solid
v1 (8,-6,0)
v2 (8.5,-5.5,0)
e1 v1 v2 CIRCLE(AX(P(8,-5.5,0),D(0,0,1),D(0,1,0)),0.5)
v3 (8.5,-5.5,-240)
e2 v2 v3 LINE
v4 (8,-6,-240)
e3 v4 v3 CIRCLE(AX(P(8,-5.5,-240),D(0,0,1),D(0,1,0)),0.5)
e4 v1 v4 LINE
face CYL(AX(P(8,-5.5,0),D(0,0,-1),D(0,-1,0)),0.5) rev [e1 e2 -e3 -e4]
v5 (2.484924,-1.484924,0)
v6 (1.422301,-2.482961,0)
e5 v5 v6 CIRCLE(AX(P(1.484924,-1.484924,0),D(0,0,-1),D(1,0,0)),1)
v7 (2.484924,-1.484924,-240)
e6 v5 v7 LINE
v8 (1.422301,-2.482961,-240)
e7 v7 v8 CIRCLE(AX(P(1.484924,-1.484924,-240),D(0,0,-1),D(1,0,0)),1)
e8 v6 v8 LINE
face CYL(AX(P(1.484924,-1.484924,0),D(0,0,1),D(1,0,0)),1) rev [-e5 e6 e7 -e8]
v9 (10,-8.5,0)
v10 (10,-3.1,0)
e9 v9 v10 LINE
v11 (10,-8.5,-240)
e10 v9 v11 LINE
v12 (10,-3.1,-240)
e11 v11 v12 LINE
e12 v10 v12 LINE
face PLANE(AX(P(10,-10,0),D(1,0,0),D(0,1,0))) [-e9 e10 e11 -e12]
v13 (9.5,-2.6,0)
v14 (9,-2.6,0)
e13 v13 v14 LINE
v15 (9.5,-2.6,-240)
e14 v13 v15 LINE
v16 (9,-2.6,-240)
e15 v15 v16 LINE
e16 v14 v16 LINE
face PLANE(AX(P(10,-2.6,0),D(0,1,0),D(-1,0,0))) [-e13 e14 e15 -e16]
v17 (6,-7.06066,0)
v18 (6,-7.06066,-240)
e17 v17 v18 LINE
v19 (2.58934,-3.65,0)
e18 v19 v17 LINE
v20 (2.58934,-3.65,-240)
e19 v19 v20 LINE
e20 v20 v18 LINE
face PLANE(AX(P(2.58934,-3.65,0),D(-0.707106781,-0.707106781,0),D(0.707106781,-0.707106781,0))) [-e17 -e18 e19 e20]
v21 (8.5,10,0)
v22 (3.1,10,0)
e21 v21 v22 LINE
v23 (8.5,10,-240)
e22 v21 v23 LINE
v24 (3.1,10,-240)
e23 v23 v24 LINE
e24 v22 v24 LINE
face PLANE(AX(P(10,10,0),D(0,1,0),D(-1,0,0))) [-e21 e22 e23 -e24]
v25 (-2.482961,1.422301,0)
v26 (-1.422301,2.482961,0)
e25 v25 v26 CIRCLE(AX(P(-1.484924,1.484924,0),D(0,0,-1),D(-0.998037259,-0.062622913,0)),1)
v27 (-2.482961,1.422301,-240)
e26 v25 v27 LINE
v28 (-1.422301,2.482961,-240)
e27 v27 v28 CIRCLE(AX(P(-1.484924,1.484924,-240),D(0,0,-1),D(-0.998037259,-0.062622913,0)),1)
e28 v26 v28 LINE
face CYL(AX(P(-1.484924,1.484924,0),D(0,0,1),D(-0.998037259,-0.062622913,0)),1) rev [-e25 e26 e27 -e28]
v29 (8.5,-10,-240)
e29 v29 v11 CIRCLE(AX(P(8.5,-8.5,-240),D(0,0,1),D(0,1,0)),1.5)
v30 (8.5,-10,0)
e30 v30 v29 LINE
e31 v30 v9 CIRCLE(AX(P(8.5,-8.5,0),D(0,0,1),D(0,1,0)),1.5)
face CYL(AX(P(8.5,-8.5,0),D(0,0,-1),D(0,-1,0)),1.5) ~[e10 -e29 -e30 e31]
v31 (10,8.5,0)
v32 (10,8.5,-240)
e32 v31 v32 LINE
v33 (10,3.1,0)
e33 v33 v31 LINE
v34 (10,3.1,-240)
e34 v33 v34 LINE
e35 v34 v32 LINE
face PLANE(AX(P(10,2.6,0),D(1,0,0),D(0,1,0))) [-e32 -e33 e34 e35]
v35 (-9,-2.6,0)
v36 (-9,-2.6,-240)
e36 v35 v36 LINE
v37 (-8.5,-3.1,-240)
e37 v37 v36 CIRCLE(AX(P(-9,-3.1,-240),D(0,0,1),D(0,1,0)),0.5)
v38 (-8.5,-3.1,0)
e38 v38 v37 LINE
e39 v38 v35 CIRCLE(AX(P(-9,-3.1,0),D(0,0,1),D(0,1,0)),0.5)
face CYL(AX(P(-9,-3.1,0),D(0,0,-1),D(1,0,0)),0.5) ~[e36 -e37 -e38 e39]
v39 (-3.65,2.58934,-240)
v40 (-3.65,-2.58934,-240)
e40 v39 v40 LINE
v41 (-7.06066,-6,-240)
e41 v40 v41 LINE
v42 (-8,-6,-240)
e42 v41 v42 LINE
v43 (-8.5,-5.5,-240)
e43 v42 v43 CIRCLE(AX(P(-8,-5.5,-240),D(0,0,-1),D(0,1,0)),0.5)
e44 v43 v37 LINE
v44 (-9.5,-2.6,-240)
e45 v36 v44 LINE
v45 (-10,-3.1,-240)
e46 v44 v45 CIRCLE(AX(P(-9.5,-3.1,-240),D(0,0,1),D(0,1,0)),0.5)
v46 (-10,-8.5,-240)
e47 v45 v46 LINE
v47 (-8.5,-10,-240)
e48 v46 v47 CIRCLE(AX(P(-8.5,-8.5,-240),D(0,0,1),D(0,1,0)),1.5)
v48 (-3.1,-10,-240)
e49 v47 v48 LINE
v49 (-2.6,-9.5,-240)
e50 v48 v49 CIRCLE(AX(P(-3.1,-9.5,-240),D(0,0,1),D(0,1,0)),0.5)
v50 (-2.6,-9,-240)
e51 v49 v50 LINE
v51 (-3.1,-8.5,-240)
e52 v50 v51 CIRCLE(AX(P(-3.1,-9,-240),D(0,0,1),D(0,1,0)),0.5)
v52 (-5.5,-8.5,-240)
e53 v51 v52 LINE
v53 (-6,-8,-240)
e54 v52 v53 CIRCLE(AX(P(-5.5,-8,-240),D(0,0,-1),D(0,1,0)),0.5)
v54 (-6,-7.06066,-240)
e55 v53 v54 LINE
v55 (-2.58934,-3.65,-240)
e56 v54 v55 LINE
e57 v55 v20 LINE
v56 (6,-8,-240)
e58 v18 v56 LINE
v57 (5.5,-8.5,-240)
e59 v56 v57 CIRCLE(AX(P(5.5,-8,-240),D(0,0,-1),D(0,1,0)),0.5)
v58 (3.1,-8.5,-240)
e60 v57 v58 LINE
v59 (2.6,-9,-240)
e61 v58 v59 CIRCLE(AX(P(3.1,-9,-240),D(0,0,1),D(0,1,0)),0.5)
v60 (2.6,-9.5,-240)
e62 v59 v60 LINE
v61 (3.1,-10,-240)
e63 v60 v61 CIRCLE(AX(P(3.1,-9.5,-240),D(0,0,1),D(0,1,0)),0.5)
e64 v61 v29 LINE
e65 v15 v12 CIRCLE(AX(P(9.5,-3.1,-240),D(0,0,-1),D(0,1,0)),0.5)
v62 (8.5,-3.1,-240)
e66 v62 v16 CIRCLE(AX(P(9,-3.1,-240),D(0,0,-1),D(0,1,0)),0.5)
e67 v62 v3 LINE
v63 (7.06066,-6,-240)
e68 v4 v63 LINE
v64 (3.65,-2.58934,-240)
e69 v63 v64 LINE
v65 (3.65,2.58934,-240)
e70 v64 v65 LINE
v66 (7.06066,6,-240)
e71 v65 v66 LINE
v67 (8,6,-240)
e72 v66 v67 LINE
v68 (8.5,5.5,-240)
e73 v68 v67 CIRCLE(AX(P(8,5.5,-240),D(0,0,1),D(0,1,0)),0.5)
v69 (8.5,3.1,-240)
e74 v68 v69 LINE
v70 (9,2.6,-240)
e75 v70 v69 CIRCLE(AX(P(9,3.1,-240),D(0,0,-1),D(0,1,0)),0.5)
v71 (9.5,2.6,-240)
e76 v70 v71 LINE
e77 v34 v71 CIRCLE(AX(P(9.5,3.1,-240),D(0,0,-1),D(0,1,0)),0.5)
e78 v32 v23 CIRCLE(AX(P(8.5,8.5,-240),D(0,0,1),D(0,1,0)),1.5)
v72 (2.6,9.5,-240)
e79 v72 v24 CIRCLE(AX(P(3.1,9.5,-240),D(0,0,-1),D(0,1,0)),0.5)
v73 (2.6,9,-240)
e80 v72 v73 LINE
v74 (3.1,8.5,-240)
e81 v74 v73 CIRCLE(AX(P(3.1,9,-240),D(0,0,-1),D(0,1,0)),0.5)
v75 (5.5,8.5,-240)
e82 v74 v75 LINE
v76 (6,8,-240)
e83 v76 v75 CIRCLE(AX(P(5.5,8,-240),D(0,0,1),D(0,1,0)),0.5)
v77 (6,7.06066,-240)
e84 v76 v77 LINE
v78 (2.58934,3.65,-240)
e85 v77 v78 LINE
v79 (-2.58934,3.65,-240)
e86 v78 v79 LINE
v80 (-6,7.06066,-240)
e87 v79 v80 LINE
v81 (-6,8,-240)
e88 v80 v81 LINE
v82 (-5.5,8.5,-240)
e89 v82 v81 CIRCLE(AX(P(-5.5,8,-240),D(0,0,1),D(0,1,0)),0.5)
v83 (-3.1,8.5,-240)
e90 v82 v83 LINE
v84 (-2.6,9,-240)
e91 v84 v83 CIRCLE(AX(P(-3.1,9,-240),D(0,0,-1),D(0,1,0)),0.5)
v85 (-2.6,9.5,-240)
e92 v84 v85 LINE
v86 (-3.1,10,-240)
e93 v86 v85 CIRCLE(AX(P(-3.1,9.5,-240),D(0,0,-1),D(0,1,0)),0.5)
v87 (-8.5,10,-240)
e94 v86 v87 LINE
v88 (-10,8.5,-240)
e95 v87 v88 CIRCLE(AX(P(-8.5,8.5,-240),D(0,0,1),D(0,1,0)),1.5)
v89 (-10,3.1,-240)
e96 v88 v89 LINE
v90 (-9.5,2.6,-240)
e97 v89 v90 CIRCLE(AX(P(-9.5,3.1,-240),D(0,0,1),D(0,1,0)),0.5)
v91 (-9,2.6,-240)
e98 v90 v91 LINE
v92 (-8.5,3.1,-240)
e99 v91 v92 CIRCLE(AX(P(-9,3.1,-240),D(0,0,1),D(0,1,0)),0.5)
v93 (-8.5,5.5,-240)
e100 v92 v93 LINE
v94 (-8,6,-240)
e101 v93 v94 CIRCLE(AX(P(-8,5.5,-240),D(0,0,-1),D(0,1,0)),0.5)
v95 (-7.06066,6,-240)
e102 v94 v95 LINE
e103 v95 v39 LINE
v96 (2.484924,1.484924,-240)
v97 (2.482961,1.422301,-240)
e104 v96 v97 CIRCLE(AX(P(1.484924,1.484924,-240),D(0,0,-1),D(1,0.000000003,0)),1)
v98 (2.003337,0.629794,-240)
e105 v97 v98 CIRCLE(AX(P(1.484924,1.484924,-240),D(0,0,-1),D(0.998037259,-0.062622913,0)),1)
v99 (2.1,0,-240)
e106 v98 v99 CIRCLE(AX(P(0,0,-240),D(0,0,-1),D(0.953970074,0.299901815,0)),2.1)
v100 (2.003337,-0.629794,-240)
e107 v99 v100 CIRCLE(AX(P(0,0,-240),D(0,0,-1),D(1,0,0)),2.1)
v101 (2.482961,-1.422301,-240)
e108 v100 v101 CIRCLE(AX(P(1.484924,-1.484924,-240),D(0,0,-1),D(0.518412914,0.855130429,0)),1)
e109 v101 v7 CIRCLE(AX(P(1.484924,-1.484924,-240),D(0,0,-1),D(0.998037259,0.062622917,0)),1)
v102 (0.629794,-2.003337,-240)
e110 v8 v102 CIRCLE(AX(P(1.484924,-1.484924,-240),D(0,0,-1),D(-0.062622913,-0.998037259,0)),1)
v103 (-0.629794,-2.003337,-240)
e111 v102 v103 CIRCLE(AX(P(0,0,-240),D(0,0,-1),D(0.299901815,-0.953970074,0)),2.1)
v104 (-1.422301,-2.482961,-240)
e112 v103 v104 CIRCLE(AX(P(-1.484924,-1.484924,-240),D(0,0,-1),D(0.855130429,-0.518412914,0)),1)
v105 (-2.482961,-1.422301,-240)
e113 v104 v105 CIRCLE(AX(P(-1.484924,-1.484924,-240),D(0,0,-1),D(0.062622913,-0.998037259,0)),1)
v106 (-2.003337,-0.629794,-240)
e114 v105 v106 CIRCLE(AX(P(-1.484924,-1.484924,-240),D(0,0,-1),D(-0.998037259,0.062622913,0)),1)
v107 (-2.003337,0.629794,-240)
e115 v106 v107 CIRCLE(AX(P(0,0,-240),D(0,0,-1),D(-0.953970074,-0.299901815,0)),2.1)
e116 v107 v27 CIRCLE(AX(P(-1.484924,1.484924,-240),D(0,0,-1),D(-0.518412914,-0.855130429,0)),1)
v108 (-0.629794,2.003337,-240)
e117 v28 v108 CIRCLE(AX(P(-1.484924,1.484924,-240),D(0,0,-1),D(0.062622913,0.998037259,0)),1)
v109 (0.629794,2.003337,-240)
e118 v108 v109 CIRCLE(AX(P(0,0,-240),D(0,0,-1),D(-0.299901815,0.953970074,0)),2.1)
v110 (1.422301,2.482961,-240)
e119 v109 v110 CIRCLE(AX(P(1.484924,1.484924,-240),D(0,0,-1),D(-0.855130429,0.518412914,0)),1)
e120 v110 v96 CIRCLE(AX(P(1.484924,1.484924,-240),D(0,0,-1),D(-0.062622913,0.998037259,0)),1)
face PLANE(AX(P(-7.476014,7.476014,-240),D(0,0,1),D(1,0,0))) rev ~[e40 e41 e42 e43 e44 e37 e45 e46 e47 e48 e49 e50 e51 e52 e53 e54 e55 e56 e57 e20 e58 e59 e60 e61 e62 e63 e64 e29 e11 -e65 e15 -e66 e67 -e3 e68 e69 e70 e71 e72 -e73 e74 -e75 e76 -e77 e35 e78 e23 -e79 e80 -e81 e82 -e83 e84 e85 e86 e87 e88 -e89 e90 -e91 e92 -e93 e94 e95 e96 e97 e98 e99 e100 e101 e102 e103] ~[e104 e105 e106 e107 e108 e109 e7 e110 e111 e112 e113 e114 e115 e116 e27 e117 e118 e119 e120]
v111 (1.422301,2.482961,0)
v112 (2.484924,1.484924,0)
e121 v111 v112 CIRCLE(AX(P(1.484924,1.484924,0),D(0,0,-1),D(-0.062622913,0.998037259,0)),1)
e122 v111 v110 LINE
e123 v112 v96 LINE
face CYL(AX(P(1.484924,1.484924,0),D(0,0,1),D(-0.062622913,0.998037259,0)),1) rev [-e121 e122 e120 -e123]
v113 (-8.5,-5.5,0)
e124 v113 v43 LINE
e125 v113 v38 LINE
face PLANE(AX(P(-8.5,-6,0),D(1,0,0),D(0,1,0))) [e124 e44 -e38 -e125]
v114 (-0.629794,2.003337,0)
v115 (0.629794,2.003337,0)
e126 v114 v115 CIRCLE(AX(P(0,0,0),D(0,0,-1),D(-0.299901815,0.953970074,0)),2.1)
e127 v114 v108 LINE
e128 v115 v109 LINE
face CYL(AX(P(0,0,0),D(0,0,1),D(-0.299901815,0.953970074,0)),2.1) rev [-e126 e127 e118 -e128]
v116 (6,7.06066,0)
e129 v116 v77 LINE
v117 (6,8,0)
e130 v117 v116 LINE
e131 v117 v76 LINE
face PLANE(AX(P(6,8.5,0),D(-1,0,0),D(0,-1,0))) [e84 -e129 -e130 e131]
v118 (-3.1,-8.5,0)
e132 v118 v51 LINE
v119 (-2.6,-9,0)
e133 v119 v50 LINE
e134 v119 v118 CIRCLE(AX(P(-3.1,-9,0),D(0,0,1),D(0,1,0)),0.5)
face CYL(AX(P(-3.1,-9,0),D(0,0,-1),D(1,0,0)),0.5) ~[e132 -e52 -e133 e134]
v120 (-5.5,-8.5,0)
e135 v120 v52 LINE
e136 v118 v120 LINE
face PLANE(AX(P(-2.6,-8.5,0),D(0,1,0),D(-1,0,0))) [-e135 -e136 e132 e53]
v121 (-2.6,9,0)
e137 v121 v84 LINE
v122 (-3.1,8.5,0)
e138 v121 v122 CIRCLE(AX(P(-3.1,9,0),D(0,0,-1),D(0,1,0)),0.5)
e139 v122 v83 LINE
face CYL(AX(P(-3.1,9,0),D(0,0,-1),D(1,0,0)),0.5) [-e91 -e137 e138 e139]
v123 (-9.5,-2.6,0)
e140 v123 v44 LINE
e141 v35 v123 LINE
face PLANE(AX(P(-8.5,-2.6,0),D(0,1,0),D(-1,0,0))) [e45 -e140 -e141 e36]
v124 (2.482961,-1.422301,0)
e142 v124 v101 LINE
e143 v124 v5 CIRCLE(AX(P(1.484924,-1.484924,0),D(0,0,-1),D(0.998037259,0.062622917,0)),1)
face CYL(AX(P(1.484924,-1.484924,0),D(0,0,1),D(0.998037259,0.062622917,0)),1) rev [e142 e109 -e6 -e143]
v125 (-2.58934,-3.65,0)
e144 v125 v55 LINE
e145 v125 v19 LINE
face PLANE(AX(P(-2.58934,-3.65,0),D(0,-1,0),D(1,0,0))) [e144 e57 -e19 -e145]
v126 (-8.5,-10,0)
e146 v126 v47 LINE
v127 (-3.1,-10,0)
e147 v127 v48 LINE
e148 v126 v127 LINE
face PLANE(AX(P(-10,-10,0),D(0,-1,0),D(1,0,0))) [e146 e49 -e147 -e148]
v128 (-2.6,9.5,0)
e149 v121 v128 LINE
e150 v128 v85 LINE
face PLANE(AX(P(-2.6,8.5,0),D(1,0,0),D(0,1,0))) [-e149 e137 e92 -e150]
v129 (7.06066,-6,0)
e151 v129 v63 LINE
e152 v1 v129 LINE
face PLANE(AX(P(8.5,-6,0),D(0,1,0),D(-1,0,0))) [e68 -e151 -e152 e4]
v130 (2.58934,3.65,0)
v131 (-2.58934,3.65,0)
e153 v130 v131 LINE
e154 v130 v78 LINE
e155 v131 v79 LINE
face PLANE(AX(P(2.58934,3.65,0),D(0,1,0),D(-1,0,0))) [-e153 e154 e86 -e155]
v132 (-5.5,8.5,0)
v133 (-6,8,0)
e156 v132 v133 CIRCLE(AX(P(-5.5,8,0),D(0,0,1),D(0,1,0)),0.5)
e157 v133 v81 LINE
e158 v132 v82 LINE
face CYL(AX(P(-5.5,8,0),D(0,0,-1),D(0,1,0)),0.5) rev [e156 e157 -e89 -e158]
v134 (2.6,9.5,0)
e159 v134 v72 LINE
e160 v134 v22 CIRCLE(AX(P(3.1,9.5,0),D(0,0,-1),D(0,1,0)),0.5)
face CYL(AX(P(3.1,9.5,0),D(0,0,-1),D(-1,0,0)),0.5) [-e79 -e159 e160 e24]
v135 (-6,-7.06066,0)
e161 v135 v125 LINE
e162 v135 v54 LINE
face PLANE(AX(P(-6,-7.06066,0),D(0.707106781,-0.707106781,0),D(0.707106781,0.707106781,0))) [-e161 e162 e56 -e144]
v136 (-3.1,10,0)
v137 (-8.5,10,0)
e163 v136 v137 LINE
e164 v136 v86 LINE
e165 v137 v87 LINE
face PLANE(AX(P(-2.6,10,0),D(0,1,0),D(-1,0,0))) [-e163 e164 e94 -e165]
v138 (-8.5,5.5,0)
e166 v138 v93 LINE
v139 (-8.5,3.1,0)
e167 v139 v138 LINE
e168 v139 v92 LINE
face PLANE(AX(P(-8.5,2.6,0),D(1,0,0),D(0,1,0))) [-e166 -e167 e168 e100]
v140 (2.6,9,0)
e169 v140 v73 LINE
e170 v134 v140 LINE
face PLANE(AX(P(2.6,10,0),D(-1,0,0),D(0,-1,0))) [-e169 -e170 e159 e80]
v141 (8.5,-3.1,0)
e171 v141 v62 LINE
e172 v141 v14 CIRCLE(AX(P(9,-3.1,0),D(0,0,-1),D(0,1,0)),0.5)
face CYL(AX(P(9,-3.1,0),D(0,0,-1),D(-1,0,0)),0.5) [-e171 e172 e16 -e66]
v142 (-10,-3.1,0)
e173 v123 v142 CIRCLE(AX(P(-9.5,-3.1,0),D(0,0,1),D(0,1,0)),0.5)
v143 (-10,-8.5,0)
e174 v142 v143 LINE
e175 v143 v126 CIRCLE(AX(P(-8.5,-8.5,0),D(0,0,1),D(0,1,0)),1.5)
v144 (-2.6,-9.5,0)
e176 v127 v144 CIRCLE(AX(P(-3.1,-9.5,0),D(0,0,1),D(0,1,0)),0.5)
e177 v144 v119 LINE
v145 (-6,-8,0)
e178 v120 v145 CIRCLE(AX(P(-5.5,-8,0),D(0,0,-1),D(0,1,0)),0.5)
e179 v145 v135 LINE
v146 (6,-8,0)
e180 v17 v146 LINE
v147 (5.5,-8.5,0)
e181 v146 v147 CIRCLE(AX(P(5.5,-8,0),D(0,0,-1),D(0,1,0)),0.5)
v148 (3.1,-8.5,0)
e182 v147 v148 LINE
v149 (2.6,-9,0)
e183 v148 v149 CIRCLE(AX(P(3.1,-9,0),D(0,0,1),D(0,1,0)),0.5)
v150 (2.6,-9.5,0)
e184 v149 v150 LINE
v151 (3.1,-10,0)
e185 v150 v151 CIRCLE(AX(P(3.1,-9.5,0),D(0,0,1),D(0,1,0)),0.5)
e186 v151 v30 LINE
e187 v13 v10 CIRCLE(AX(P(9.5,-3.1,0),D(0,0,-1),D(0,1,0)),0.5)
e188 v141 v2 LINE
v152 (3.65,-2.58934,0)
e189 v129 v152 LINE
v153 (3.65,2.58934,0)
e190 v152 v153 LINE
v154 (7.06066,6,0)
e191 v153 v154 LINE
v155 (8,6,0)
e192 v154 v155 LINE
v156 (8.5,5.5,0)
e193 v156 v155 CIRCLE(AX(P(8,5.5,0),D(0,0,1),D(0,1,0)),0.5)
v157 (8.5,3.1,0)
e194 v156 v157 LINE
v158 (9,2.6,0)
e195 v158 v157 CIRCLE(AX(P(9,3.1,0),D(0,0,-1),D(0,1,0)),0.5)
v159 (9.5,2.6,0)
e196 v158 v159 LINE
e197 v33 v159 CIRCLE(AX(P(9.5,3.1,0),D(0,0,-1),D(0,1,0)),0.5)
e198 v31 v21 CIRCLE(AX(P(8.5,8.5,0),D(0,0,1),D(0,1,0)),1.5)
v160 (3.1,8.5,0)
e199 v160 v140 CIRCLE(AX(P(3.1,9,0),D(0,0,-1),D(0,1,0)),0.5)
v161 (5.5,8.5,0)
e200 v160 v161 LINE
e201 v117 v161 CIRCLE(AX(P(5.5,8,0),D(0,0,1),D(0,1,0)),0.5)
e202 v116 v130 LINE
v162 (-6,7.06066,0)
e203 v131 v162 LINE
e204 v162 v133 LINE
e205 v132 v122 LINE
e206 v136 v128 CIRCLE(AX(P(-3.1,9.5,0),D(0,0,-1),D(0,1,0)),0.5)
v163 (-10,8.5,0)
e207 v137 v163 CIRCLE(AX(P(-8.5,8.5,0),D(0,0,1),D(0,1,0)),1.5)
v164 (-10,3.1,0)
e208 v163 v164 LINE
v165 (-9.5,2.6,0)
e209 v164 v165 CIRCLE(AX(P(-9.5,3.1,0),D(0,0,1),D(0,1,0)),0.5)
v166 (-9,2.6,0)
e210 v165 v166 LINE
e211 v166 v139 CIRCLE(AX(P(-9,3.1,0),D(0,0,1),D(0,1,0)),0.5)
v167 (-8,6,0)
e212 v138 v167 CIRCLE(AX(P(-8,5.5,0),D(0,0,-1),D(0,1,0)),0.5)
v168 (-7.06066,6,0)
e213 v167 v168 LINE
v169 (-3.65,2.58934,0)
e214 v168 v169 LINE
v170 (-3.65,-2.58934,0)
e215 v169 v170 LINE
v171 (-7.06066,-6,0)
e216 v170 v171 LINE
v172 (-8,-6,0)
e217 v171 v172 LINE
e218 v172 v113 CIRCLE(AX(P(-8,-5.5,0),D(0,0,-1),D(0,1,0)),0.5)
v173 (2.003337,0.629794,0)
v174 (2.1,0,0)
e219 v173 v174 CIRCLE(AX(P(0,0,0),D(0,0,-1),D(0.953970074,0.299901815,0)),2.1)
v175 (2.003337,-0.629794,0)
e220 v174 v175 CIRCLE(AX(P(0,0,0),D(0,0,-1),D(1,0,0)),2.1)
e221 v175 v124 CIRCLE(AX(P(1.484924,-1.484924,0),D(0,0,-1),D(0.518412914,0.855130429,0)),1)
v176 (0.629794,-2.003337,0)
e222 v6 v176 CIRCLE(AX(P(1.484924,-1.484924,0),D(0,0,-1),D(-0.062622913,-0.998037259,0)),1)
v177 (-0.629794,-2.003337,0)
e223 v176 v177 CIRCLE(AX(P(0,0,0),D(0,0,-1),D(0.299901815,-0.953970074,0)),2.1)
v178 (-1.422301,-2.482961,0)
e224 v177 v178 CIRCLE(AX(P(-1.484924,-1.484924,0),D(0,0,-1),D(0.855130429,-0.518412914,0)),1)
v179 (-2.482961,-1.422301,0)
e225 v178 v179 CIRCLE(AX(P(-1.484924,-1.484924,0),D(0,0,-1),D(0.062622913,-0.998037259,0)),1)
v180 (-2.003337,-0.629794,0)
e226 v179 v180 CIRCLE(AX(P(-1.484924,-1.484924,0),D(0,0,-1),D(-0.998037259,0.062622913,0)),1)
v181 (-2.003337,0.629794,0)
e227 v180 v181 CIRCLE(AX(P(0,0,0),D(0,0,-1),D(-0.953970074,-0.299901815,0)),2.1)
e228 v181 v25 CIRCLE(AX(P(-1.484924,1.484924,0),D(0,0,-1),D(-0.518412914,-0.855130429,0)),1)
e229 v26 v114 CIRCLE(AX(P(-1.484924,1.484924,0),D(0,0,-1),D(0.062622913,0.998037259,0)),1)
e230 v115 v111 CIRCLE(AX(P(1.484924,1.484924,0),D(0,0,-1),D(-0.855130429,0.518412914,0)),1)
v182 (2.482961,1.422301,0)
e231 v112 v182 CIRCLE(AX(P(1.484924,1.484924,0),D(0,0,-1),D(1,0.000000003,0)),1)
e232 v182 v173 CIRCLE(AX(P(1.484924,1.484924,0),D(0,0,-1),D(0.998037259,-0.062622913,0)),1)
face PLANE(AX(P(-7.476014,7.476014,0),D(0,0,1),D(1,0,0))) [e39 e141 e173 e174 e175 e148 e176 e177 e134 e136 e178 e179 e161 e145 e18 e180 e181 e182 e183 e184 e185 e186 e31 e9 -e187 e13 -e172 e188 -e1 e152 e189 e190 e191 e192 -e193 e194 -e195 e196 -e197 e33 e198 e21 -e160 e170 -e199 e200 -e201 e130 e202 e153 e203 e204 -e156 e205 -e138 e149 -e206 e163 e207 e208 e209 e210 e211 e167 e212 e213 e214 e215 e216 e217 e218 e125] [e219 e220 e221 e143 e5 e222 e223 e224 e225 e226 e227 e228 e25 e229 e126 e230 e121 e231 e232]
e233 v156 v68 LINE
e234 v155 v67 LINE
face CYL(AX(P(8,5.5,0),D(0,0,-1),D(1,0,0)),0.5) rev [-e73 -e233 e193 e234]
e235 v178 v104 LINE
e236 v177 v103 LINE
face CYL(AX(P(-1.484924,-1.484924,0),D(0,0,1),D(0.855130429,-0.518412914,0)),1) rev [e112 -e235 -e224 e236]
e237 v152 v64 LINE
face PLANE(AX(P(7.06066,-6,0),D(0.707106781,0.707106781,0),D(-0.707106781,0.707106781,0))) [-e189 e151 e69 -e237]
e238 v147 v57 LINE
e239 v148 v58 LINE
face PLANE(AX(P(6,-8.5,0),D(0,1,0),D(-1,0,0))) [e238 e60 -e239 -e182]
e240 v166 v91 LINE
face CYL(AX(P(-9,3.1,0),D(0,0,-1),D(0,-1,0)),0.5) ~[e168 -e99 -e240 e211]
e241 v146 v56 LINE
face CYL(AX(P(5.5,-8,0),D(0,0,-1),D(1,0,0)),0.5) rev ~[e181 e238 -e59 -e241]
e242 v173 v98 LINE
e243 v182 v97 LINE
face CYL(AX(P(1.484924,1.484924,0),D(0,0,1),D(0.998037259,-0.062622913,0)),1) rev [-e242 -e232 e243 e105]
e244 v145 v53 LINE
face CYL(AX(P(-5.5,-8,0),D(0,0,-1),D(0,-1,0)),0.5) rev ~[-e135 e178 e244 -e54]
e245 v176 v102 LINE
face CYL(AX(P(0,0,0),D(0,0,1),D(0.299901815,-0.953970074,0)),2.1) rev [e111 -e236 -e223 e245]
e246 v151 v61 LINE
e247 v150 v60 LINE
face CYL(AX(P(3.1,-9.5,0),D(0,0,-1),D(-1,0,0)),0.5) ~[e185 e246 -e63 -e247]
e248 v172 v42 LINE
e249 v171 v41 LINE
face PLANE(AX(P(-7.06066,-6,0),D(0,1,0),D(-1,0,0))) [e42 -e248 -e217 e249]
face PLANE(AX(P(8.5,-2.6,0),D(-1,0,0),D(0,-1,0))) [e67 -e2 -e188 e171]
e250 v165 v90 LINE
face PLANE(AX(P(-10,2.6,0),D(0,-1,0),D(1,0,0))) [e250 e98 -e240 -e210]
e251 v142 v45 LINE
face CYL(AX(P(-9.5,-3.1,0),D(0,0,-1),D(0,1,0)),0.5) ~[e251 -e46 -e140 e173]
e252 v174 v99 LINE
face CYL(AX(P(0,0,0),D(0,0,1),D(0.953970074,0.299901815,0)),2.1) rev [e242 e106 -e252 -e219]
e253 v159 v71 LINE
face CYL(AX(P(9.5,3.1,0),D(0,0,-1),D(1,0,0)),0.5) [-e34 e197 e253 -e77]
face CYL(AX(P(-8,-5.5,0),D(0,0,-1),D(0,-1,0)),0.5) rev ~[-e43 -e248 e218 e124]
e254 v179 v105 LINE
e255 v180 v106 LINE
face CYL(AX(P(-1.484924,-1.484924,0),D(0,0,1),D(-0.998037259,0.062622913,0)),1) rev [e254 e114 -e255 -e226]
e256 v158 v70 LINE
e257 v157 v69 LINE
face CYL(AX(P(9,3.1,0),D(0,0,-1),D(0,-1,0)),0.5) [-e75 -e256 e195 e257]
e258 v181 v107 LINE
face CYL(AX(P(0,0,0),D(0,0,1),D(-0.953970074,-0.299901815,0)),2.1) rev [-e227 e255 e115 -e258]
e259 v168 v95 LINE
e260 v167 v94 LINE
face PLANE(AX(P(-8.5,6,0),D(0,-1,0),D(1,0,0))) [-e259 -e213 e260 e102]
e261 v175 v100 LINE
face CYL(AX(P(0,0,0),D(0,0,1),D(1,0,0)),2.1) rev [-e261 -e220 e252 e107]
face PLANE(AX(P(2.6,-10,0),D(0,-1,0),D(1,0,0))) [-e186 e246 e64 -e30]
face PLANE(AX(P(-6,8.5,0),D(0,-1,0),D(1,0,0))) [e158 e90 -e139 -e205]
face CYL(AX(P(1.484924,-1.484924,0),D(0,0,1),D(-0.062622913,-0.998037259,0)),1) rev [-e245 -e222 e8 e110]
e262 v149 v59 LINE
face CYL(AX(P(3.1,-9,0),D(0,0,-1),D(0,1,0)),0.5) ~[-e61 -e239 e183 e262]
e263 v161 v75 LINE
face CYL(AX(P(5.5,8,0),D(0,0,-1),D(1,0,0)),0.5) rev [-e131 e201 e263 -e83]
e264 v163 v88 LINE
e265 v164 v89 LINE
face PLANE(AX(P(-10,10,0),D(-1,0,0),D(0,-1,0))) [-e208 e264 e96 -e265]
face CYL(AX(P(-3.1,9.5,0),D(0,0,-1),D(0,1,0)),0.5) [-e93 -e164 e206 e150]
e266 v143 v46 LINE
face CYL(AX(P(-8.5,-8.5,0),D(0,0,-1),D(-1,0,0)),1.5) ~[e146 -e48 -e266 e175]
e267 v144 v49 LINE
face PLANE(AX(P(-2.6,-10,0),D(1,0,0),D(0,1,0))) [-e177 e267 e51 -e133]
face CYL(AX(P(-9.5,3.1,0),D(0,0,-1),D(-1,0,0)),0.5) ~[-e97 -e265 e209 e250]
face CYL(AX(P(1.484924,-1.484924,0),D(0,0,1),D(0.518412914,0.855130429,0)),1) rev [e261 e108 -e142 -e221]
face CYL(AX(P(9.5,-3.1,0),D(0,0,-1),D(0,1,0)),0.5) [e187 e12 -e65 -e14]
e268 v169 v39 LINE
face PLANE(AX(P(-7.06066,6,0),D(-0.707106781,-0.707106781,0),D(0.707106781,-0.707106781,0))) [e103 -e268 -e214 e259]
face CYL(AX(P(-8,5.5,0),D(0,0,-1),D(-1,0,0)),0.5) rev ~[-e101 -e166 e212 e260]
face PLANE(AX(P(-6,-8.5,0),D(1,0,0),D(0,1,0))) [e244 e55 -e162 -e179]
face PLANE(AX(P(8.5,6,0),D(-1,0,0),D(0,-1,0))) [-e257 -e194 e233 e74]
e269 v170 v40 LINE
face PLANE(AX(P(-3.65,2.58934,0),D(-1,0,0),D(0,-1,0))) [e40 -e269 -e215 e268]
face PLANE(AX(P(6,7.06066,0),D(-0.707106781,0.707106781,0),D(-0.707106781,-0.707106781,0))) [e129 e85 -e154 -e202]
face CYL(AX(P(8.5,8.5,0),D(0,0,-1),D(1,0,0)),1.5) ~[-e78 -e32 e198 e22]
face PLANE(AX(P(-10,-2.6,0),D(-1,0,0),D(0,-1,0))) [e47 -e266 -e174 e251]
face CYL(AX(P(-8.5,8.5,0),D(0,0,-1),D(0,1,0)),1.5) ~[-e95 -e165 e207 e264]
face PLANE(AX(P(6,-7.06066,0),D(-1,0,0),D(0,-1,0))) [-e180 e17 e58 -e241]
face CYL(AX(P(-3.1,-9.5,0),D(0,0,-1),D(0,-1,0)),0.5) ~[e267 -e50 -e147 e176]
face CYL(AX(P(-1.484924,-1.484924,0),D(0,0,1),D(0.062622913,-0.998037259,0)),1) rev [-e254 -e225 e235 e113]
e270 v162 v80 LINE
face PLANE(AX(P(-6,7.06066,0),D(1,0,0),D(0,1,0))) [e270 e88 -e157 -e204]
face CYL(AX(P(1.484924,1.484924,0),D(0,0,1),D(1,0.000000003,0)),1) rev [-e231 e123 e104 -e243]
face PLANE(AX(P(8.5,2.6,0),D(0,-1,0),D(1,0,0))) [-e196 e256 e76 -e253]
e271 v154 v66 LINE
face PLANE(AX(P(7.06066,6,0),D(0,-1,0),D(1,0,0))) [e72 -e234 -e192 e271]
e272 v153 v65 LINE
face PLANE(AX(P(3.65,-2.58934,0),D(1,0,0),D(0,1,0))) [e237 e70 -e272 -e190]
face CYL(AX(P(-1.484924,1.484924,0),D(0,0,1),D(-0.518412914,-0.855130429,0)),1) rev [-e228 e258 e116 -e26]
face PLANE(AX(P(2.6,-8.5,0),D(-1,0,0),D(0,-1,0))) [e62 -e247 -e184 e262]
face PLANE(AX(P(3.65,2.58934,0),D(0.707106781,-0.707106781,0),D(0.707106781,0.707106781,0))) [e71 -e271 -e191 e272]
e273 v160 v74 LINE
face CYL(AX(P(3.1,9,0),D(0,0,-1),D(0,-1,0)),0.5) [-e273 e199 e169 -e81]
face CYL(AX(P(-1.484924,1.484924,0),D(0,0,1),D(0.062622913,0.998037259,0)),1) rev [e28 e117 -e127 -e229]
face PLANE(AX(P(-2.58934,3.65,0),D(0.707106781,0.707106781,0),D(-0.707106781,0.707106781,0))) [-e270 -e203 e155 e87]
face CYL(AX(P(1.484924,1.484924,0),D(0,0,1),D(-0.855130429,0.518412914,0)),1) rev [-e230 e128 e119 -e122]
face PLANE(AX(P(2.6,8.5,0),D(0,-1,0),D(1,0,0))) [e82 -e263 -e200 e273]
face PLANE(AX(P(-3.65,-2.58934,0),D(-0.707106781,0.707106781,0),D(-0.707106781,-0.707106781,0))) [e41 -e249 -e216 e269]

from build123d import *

# Parameters (mm, degrees)
F1_DEPTH = 240
F2_R     = 1.5
F3_R     = 0.5


with BuildPart() as f1:
    # F0 (on Top) → F1 (new body)
    with BuildSketch(Plane.XY):
        Polygon((-2.6, 8.5), (-2.6, 10), (-10, 10), (-10, 2.6), (-8.5, 2.6), (-8.5, 6), (-8.5, 7.4393398282), (-8.5, 8.5), (-7.4393398282, 8.5), (-6, 8.5), align=None)
        Polygon((-8.5, 7.4393398282), (-8.5, 6), (-7.0606601718, 6), align=None)
        Polygon((-6, 7.0606601718), (-6, 8.5), (-7.4393398282, 8.5), align=None)
        Polygon((-6, 7.0606601718), (-7.4393398282, 8.5), (-8.5, 8.5), (-8.5, 7.4393398282), (-7.0606601718, 6), (-3.65, 2.5893398282), (-3.65, 3.65), (-2.5893398282, 3.65), align=None)
        Polygon((10, 2.6), (10, 10), (2.6, 10), (2.6, 8.5), (6, 8.5), (7.4393398282, 8.5), (8.5, 8.5), (8.5, 7.4393398282), (8.5, 6), (8.5, 2.6), align=None)
        Polygon((7.4393398282, 8.5), (6, 8.5), (6, 7.0606601718), align=None)
        Polygon((8.5, 8.5), (7.4393398282, 8.5), (6, 7.0606601718), (2.5893398282, 3.65), (3.65, 3.65), (3.65, 2.5893398282), (7.0606601718, 6), (8.5, 7.4393398282), align=None)
        Polygon((7.0606601718, 6), (8.5, 6), (8.5, 7.4393398282), align=None)
        Polygon((6, -7.0606601718), (6, -8.5), (7.4393398282, -8.5), align=None)
        Polygon((8.5, -8.5), (8.5, -7.4393398282), (7.0606601718, -6), (3.65, -2.5893398282), (3.65, -3.65), (2.5893398282, -3.65), (6, -7.0606601718), (7.4393398282, -8.5), align=None)
        Polygon((8.5, -7.4393398282), (8.5, -6), (7.0606601718, -6), align=None)
        Polygon((10, -10), (10, -2.6), (8.5, -2.6), (8.5, -6), (8.5, -7.4393398282), (8.5, -8.5), (7.4393398282, -8.5), (6, -8.5), (2.6, -8.5), (2.6, -10), align=None)
        Polygon((-8.5, -2.6), (-10, -2.6), (-10, -10), (-2.6, -10), (-2.6, -8.5), (-6, -8.5), (-7.4393398282, -8.5), (-8.5, -8.5), (-8.5, -7.4393398282), (-8.5, -6), align=None)
        Polygon((-7.4393398282, -8.5), (-6, -8.5), (-6, -7.0606601718), align=None)
        Polygon((-7.0606601718, -6), (-8.5, -6), (-8.5, -7.4393398282), align=None)
        Polygon((-7.0606601718, -6), (-8.5, -7.4393398282), (-8.5, -8.5), (-7.4393398282, -8.5), (-6, -7.0606601718), (-2.5893398282, -3.65), (-3.65, -3.65), (-3.65, -2.5893398282), align=None)
        with BuildLine():
            Line((-2.4829614997, -1.4223013279), (-3.65, -2.5893398282))
            Line((-3.65, -2.5893398282), (-3.65, -3.65))
            Line((-3.65, -3.65), (-2.5893398282, -3.65))
            Line((-2.5893398282, -3.65), (-1.4223013279, -2.4829614997))
            ThreePointArc((-1.4223013279, -2.4829614997), (-2.1920310217, -2.1920310217), (-2.4829614997, -1.4223013279))
        make_face()
        with BuildLine():
            Line((-2.5893398282, -3.65), (2.5893398282, -3.65))
            Line((2.5893398282, -3.65), (1.4223013279, -2.4829614997))
            ThreePointArc((1.4223013279, -2.4829614997), (0.9671620585, -2.3404488298), (0.6297938115, -2.0033371546))
            ThreePointArc((0.6297938115, -2.0033371546), (0, -2.1), (-0.6297938115, -2.0033371546))
            ThreePointArc((-0.6297938115, -2.0033371546), (-0.9671620585, -2.3404488298), (-1.4223013279, -2.4829614997))
            Line((-1.4223013279, -2.4829614997), (-2.5893398282, -3.65))
        make_face()
        with BuildLine():
            Line((3.65, -3.65), (3.65, -2.5893398282))
            Line((3.65, -2.5893398282), (2.4829614997, -1.4223013279))
            ThreePointArc((2.4829614997, -1.4223013279), (2.4844334349, -1.4535974088), (2.4849242405, -1.4849242405))
            ThreePointArc((2.4849242405, -1.4849242405), (2.1695325546, -2.2138353848), (1.4223013279, -2.4829614997))
            Line((1.4223013279, -2.4829614997), (2.5893398282, -3.65))
            Line((2.5893398282, -3.65), (3.65, -3.65))
        make_face()
        with BuildLine():
            Line((3.65, -2.5893398282), (3.65, 2.5893398282))
            Line((3.65, 2.5893398282), (2.4829614997, 1.4223013279))
            ThreePointArc((2.4829614997, 1.4223013279), (2.3404488298, 0.9671620585), (2.0033371546, 0.6297938115))
            ThreePointArc((2.0033371546, 0.6297938115), (2.075693622, 0.3185843494), (2.1, 0))
            ThreePointArc((2.1, 0), (2.075693622, -0.3185843494), (2.0033371546, -0.6297938115))
            ThreePointArc((2.0033371546, -0.6297938115), (2.3404488298, -0.9671620585), (2.4829614997, -1.4223013279))
            Line((2.4829614997, -1.4223013279), (3.65, -2.5893398282))
        make_face()
        with BuildLine():
            Line((3.65, 3.65), (2.5893398282, 3.65))
            Line((2.5893398282, 3.65), (1.4223013279, 2.4829614997))
            ThreePointArc((1.4223013279, 2.4829614997), (2.1695325546, 2.2138353848), (2.4849242405, 1.4849242405))
            ThreePointArc((2.4849242405, 1.4849242405), (2.4844334349, 1.4535974088), (2.4829614997, 1.4223013279))
            Line((2.4829614997, 1.4223013279), (3.65, 2.5893398282))
            Line((3.65, 2.5893398282), (3.65, 3.65))
        make_face()
        with BuildLine():
            Line((1.4223013279, 2.4829614997), (2.5893398282, 3.65))
            Line((2.5893398282, 3.65), (-2.5893398282, 3.65))
            Line((-2.5893398282, 3.65), (-1.4223013279, 2.4829614997))
            ThreePointArc((-1.4223013279, 2.4829614997), (-0.9671620585, 2.3404488298), (-0.6297938115, 2.0033371546))
            ThreePointArc((-0.6297938115, 2.0033371546), (0, 2.1), (0.6297938115, 2.0033371546))
            ThreePointArc((0.6297938115, 2.0033371546), (0.9671620585, 2.3404488298), (1.4223013279, 2.4829614997))
        make_face()
        with BuildLine():
            Line((-1.4223013279, 2.4829614997), (-2.5893398282, 3.65))
            Line((-2.5893398282, 3.65), (-3.65, 3.65))
            Line((-3.65, 3.65), (-3.65, 2.5893398282))
            Line((-3.65, 2.5893398282), (-2.4829614997, 1.4223013279))
            ThreePointArc((-2.4829614997, 1.4223013279), (-2.1920310217, 2.1920310217), (-1.4223013279, 2.4829614997))
        make_face()
        with BuildLine():
            Line((-2.4829614997, 1.4223013279), (-3.65, 2.5893398282))
            Line((-3.65, 2.5893398282), (-3.65, -2.5893398282))
            Line((-3.65, -2.5893398282), (-2.4829614997, -1.4223013279))
            ThreePointArc((-2.4829614997, -1.4223013279), (-2.3404488298, -0.9671620585), (-2.0033371546, -0.6297938115))
            ThreePointArc((-2.0033371546, -0.6297938115), (-2.1, 0), (-2.0033371546, 0.6297938115))
            ThreePointArc((-2.0033371546, 0.6297938115), (-2.3404488298, 0.9671620585), (-2.4829614997, 1.4223013279))
        make_face()
    extrude(amount=-F1_DEPTH)

    # F2
    f2_edges = [f1.edges().sort_by_distance(p)[0] for p in [
        (-10, -10, -120),
        (-10, 10, -120),
        (10, -10, -120),
        (10, 10, -120),
    ]]
    fillet(f2_edges, radius=F2_R)

    # F3
    f3_edges = [f1.edges().sort_by_distance(p)[0] for p in [
        (-6, -8.5, -120),
        (-8.5, -6, -120),
        (-8.5, 6, -120),
        (-6, 8.5, -120),
        (6, -8.5, -120),
        (8.5, -6, -120),
        (8.5, 6, -120),
        (6, 8.5, -120),
        (-2.6, 10, -120),
        (-2.6, 8.5, -120),
        (2.6, 10, -120),
        (-8.5, 2.6, -120),
        (-8.5, -2.6, -120),
        (-10, -2.6, -120),
        (-2.6, -8.5, -120),
        (-2.6, -10, -120),
        (2.6, -8.5, -120),
        (8.5, -2.6, -120),
        (10, -2.6, -120),
        (10, 2.6, -120),
        (8.5, 2.6, -120),
        (2.6, 8.5, -120),
        (-10, 2.6, -120),
        (2.6, -10, -120),
    ]]
    fillet(f3_edges, radius=F3_R)


solid = f1.part
